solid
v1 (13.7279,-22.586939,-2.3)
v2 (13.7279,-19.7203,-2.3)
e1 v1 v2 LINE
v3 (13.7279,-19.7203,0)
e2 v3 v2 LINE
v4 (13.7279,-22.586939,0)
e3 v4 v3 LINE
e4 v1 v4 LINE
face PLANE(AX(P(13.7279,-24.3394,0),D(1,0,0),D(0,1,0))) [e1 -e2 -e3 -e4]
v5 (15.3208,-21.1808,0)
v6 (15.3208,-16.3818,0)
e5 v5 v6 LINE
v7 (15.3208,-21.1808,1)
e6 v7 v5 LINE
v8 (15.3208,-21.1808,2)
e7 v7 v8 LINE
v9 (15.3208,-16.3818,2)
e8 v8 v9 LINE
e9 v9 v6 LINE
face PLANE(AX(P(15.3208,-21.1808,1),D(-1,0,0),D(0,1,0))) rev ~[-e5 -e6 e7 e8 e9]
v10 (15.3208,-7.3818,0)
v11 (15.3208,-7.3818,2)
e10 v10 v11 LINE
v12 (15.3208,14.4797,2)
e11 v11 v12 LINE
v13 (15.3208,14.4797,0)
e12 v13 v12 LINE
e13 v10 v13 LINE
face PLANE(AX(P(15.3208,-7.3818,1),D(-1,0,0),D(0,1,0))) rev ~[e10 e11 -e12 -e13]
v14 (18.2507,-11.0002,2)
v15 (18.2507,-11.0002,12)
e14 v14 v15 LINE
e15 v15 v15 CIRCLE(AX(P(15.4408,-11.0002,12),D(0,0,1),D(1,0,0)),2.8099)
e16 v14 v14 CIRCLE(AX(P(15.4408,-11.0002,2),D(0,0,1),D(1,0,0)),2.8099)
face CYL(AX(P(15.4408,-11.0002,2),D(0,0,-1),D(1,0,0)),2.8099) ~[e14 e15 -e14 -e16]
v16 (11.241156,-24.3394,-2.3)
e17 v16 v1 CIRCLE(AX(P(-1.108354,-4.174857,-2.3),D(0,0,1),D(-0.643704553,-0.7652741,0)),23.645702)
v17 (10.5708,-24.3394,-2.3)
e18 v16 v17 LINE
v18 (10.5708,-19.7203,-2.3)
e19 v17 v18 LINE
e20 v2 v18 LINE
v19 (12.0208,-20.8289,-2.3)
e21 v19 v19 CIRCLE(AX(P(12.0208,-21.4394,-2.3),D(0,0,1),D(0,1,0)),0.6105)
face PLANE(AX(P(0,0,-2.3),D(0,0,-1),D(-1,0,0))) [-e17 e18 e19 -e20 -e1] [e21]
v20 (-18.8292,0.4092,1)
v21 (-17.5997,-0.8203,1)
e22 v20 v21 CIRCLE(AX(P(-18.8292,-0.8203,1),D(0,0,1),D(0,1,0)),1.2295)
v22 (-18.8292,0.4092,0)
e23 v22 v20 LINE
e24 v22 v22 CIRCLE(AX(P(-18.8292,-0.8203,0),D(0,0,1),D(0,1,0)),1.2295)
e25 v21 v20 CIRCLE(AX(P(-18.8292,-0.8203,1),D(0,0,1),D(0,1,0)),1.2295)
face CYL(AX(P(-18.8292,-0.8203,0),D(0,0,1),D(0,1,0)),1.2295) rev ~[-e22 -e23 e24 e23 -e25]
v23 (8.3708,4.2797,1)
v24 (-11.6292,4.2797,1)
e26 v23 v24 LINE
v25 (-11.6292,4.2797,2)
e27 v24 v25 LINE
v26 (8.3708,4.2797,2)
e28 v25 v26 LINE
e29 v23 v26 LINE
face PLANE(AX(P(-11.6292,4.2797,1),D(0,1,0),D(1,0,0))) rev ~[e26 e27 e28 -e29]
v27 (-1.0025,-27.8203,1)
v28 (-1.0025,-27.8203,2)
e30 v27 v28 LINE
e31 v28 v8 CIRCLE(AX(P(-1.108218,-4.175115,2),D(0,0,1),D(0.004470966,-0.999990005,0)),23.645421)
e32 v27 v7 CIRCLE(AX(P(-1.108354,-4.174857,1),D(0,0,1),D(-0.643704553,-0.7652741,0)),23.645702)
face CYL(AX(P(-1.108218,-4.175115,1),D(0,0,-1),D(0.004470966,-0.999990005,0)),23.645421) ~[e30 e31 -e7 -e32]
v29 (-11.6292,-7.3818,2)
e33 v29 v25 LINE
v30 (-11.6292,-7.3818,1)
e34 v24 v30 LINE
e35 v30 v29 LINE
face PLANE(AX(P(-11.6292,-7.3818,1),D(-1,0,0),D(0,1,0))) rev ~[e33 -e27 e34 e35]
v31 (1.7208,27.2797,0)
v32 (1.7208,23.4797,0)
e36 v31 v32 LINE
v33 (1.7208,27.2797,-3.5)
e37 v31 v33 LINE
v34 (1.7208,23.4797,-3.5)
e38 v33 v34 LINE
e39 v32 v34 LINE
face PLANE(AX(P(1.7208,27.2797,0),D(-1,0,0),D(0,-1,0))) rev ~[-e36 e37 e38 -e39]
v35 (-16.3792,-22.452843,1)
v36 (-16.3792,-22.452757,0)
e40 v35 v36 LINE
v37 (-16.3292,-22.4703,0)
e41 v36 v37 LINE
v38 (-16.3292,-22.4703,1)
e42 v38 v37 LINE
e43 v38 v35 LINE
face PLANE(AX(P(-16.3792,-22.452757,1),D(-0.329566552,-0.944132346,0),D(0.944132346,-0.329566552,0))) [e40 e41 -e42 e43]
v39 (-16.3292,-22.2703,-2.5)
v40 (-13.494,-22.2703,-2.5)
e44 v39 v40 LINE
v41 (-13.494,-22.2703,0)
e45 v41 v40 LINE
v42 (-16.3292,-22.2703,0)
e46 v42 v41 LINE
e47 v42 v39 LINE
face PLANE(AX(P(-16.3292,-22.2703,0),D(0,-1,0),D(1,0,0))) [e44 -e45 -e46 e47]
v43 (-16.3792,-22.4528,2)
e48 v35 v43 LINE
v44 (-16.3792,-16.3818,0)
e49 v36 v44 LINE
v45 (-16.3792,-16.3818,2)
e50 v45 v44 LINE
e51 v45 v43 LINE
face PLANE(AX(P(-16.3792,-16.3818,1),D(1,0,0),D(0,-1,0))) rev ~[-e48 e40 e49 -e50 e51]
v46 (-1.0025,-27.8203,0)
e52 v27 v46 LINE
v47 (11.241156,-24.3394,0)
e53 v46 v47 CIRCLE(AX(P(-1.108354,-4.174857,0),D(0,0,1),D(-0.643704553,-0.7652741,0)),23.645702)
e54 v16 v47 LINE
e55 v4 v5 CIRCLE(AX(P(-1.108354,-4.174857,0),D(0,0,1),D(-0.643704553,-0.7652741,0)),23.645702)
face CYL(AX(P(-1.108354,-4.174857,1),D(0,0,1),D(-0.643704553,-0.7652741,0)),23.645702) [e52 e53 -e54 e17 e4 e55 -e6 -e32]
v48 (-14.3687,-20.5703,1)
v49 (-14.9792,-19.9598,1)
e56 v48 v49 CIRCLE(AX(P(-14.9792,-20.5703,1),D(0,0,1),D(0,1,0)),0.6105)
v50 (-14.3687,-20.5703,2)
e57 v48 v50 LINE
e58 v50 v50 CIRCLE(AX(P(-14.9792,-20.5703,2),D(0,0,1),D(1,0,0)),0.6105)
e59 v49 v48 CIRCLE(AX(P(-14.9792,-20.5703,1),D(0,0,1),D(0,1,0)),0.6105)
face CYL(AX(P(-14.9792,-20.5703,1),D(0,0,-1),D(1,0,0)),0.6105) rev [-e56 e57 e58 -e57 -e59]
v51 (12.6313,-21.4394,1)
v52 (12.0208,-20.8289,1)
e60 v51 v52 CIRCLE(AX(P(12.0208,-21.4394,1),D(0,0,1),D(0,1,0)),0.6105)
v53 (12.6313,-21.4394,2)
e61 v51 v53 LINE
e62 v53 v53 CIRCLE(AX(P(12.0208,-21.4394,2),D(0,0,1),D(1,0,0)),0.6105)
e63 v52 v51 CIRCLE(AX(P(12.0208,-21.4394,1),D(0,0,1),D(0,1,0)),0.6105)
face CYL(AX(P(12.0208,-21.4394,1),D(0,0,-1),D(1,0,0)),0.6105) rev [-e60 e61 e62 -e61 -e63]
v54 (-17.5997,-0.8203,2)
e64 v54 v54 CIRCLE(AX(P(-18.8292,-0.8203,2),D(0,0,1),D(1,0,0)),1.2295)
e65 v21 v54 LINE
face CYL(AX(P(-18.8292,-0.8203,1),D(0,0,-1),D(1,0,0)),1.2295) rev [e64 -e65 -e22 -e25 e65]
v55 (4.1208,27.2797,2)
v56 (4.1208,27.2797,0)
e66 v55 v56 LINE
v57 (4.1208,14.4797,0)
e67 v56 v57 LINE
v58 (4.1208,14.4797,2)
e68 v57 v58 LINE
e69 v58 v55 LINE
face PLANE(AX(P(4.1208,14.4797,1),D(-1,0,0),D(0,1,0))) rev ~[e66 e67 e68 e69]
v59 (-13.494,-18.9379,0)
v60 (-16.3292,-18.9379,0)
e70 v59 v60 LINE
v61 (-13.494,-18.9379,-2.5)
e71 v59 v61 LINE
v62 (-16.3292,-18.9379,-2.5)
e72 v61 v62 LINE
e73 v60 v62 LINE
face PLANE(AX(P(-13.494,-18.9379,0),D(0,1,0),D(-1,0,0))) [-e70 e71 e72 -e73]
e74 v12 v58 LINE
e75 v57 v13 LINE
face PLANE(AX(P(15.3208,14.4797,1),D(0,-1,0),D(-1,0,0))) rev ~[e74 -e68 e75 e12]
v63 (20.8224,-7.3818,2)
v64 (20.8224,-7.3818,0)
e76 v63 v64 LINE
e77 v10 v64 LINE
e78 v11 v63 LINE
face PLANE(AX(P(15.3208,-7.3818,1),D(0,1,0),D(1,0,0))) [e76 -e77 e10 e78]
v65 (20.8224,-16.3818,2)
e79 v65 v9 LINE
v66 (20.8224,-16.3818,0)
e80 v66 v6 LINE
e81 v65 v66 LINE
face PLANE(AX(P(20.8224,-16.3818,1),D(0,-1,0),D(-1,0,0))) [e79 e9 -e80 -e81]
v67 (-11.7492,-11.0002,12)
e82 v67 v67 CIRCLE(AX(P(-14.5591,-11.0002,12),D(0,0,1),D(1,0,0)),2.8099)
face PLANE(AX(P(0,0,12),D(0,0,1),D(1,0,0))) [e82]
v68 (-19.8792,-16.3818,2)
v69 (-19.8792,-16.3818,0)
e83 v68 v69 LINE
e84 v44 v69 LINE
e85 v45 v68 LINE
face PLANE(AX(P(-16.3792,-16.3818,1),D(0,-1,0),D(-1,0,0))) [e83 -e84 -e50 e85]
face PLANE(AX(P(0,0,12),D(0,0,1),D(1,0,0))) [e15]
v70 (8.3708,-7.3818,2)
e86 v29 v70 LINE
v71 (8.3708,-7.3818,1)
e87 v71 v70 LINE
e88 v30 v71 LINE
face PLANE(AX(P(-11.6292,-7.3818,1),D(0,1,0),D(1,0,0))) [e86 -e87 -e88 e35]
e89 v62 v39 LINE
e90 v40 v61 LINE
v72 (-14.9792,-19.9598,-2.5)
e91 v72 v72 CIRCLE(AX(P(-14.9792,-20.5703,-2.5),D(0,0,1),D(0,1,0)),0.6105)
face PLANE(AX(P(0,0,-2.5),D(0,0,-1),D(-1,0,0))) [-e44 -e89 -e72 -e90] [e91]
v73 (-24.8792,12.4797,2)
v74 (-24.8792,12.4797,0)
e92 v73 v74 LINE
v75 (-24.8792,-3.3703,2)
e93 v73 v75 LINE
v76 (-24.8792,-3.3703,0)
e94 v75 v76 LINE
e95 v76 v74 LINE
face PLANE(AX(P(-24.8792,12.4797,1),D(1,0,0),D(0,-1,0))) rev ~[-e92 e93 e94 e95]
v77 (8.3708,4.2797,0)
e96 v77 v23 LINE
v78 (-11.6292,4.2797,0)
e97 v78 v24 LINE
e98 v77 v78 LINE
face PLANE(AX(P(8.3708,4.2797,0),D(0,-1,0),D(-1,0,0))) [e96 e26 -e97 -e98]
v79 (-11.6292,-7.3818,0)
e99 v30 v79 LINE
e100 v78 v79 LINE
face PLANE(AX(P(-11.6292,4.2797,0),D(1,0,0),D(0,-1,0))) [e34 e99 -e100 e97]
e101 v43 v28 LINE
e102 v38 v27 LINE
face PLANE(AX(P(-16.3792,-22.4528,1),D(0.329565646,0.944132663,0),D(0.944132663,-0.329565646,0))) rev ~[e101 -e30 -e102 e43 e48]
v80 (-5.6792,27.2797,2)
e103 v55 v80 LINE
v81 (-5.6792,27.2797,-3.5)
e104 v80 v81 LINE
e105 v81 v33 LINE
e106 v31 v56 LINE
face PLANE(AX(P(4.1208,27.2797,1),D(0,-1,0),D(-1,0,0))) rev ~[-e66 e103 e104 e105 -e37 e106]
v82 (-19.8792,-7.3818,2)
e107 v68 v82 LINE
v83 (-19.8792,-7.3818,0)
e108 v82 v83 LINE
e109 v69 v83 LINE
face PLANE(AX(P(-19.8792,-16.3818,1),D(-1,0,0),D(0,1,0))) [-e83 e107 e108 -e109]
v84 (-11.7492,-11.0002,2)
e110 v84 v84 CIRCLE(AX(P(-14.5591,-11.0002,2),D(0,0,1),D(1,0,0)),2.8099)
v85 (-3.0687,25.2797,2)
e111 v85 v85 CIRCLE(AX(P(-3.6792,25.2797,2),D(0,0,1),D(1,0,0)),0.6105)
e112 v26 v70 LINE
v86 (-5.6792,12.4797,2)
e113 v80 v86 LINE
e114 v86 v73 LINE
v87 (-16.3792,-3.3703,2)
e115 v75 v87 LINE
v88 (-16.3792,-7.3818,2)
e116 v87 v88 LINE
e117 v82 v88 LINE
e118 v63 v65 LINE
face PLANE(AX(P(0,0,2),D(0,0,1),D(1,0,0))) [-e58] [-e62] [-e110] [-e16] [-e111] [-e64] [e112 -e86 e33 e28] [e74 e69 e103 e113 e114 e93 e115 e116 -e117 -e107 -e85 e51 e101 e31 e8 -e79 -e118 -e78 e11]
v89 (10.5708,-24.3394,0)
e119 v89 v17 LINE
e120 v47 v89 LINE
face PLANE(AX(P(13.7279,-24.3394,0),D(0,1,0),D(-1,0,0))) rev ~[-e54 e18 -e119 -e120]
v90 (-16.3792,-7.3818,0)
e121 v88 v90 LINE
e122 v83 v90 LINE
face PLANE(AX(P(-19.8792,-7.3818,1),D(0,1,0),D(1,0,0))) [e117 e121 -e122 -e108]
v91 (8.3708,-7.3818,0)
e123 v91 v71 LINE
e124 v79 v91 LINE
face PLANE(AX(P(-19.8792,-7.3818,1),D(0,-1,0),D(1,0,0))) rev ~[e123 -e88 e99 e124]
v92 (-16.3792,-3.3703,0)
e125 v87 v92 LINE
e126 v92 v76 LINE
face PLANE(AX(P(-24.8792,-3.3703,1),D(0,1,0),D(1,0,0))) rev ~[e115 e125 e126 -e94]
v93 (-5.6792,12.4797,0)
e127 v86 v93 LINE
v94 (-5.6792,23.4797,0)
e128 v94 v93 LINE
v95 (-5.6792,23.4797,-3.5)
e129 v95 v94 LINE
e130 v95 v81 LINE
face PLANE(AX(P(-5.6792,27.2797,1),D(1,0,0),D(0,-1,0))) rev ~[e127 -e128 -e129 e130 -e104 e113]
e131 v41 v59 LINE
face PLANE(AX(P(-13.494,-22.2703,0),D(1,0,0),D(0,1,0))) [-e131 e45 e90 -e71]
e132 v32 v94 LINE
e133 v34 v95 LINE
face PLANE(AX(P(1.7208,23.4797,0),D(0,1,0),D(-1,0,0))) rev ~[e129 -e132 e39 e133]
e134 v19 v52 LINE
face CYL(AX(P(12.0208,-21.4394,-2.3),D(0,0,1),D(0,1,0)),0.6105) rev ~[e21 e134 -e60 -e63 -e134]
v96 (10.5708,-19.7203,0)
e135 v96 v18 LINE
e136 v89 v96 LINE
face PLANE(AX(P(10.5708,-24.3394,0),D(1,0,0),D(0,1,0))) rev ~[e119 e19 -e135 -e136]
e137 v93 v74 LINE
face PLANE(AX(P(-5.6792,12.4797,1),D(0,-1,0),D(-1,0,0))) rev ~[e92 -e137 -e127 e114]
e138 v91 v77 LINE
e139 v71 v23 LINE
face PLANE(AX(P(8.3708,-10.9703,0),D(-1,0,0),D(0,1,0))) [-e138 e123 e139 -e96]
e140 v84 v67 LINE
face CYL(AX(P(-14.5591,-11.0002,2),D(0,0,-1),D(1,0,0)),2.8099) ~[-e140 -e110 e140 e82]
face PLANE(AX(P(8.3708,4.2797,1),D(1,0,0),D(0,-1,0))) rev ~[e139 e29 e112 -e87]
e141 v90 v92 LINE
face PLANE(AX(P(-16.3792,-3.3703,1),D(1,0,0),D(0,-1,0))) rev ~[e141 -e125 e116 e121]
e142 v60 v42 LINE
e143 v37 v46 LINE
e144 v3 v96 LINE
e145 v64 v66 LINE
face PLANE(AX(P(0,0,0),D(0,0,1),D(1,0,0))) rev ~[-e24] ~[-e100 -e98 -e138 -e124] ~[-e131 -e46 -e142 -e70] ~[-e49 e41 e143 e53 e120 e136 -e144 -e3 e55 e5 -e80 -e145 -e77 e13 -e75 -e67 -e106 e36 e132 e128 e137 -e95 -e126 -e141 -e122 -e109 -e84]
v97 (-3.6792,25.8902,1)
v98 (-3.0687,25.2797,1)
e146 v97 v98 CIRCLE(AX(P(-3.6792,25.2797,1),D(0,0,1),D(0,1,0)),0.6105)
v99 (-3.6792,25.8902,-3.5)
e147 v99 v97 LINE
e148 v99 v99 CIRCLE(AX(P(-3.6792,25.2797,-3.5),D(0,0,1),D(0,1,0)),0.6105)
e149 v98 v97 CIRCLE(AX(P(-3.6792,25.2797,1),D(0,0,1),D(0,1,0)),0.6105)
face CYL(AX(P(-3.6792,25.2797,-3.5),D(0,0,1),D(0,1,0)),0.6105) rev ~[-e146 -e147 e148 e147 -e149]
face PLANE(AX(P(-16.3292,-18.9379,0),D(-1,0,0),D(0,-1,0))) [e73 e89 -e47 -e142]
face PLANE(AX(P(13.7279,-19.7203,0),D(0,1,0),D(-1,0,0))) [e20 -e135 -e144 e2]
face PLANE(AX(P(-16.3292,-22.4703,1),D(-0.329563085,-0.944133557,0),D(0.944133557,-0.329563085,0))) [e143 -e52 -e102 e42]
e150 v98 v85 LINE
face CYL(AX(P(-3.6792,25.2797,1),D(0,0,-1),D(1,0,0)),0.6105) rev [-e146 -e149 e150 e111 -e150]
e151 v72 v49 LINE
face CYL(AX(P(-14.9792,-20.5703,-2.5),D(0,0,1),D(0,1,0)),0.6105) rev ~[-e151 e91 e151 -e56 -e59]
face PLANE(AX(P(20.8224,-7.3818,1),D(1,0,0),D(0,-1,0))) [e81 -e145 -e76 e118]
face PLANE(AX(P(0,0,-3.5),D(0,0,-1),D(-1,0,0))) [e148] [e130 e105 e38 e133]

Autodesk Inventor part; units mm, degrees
ref_plane "YZ Plane" through (0, 0, 0) normal (1, 0, 0) x (0, 1, 0)
ref_plane "XZ Plane" through (0, 0, 0) normal (0, 1, 0) x (-1, 0, 0)
ref_plane "XY Plane" through (0, 0, 0) normal (0, 0, 1) x (1, 0, 0)
sketch "Skizze1" plane through (0, 0, 0) normal (0, 0, 1) x (1, 0, 0)
  circle A0 centre (-18.8292, -0.8203) radius 1.45 construction
  line L0 (-24.8792, -2.7703) -> (-24.8792, 8.6797) construction
  arc A1 (-11.8792, -25.2203) -> (6.3208, -26.6782) centre (-1.0025, -3.77) ccw construction
  circle A2 centre (-14.9792, -20.5703) radius 0.9 construction
  circle A3 centre (12.0208, -21.4394) radius 0.9 construction
  circle A4 centre (-3.6792, 25.2797) radius 0.9 construction
  line L1 (-5.6792, 27.2797) -> (3.4208, 27.2797) construction
  line L2 (25.1208, 7.4797) -> (25.1208, -1.5203) construction
  line L3 (25.1208, -27.8203) -> (-24.8792, -27.8203)
  line L4 (-24.8792, -27.8203) -> (-24.8792, 27.2797)
  line L5 (-24.8792, 27.2797) -> (25.1208, 27.2797)
  line L6 (25.1208, 27.2797) -> (25.1208, -27.8203)
  line L7 (4.6208, 0.2797) -> (4.6208, -6.9703) construction
  line L8 (-4.8792, 0.2797) -> (4.6208, 0.2797) construction
  line L9 (-4.8792, -6.9703) -> (-4.8792, 0.2797) construction
  line L10 (4.6208, -6.9703) -> (-4.8792, -6.9703) construction
  line L11 (-2.2292, 2.2797) -> (1.9708, 2.2797) construction
  line L12 (6.3708, 2.2797) -> (1.9708, 2.2797) construction
  line L13 (6.3708, -8.9703) -> (6.3708, 2.2797) construction
  line L14 (1.9708, -8.9703) -> (6.3708, -8.9703) construction
  line L15 (1.9708, -8.9703) -> (-2.2292, -8.9703) construction
  line L16 (-6.6292, -8.9703) -> (-2.2292, -8.9703) construction
  line L17 (-6.6292, 2.2797) -> (-6.6292, -8.9703) construction
  line L18 (-2.2292, 2.2797) -> (-6.6292, 2.2797) construction
  line L19 (-11.6292, -10.9703) -> (8.3708, -10.9703)
  line L20 (8.3708, -10.9703) -> (8.3708, 4.2797)
  line L21 (8.3708, 4.2797) -> (-11.6292, 4.2797)
  line L22 (-11.6292, 4.2797) -> (-11.6292, -10.9703)
  point P0 (0, 0)
  dimension "d48" = 2
  dimension "d49" = 2
  dimension "d50" = 2
  dimension "d51" = 5
extrude "Extrusion1" add sketch "Skizze1" along normal blind 1
sketch "Skizze2" plane through (0, 0, 0) normal (0, 0, -1) x (-1, 0, 0)
  circle A0 centre (14.9792, -20.5703) radius 0.9 projected
  circle A1 centre (-12.0208, -21.4394) radius 0.9 construction
  circle A2 centre (3.6792, 25.2797) radius 0.9 construction
  circle A3 centre (14.9792, -20.5703) radius 0.9 projected
  circle A4 centre (9.7292, -19.9703) radius 0.75 projected
  line L0 (17.9792, -20.8203) -> (16.3292, -20.8203) construction
  line L1 (7.7292, -22.4703) -> (11.8792, -22.4703) construction
  line L2 (7.7292, -17.4703) -> (7.7292, -22.4703) construction
  line L3 (16.3292, -17.4703) -> (7.7292, -17.4703) construction
  line L4 (16.3292, -20.8203) -> (16.3292, -17.4703) construction
  line L5 (16.3292, -22.2703) -> (7.9292, -22.2703)
  line L6 (7.9292, -22.2703) -> (7.9292, -17.6703)
  line L7 (7.9292, -17.6703) -> (16.3292, -17.6703)
  line L8 (16.3292, -17.6703) -> (16.3292, -22.2703)
  line L9 (11.8792, -22.2703) -> (12.162, -22.2703) construction
  line L10 (16.3292, -17.6703) -> (12.3496, -17.6703)
  line L11 (12.3496, -17.6703) -> (12.3496, -22.2703)
  line L12 (12.3496, -22.2703) -> (16.3292, -22.2703)
  line L13 (16.3292, -22.2703) -> (16.3292, -17.6703)
  line L14 (16.3292, -22.2703) -> (13.494, -22.2703)
  line L15 (13.494, -22.2703) -> (13.494, -18.9379)
  line L16 (13.494, -18.9379) -> (16.3292, -18.9379)
  line L17 (16.3292, -18.9379) -> (16.3292, -22.2703)
  point P0 (0, 0)
  dimension "d3" = 0.2
  dimension "d4" = 0.2
  dimension "d9" = 0.2
extrude "Extrusion2" add sketch "Skizze2" along normal blind 2.5 contours A0 | L5 L15 L16 L8
sketch "Skizze3" plane through (0, 0, -2.5) normal (0, 0, -1) x (-1, 0, 0)
  circle A0 centre (14.9792, -20.5703) radius 0.9 construction
  point P0 (0, 0)
hole "Bohrung1" at (-14.9792, -20.5703, -2.5) direction (0, 0, 1) diameter 1.221 depth 6.1 tip angle 118 thread size "M1.6x0.35" class "6H" standard "ISO Metric profile"
sketch "Skizze4" plane through (0, 0, 0) normal (0, 0, -1) x (-1, 0, 0)
  circle A0 centre (18.8292, -0.8203) radius 1.45 construction
  point P0 (0, 0)
hole "Bohrung2" at (-18.8292, -0.8203, 0) direction (0, 0, 1) diameter 2.459 end through all thread size "M3x0.5" class "6H" standard "ISO Metric profile"
sketch "Skizze5" plane through (0, 0, 0) normal (0, 0, -1) x (-1, 0, 0)
  line L0 (-9.3708, -21.4703) -> (-9.3708, -17.9703) construction
  line L1 (-14.1208, -16.9703) -> (-14.1208, -22.4703) construction
  line L2 (-15.3208, -16.9703) -> (-10.3708, -16.9703) construction
  line L3 (-9.3708, -17.9703) -> (-10.3708, -16.9703) construction
  line L4 (-9.3708, -21.4703) -> (-9.3708, -17.9703) construction
  line L5 (-10.5708, -16.9703) -> (-15.3208, -16.9703)
  line L6 (-15.3208, -16.9703) -> (-15.3208, -24.3394)
  line L7 (-15.3208, -24.3394) -> (-10.5708, -24.3394)
  line L8 (-10.5708, -24.3394) -> (-10.5708, -16.9703)
  line L9 (-15.3208, -16.9703) -> (-15.3208, -1.5203) construction
  circle A0 centre (-12.0208, -21.4394) radius 0.9 construction
  line L10 (-10.5708, -24.3394) -> (-13.7279, -24.3394)
  line L11 (-13.7279, -24.3394) -> (-13.7279, -16.9703)
  line L12 (-13.7279, -16.9703) -> (-10.5708, -16.9703)
  line L13 (-10.5708, -16.9703) -> (-10.5708, -24.3394)
  line L14 (-10.5708, -24.3394) -> (-13.7279, -24.3394)
  line L15 (-13.7279, -24.3394) -> (-13.7279, -19.7203)
  line L16 (-13.7279, -19.7203) -> (-10.5708, -19.7203)
  line L17 (-10.5708, -19.7203) -> (-10.5708, -24.3394)
  point P0 (0, 0)
extrude "Extrusion3" add sketch "Skizze5" along normal blind 2.3 contours L8 L7 L11 L16
sketch "Skizze6" plane through (0, 0, -2.3) normal (0, 0, -1) x (-1, 0, 0)
  circle A0 centre (-12.0208, -21.4394) radius 0.9 construction
  point P0 (0, 0)
hole "Bohrung3" at (12.0208, -21.4394, -2.3) direction (0, 0, 1) diameter 1.221 depth 7.1 tip angle 118 thread size "M1.6x0.35" class "6H" standard "ISO Metric profile"
sketch "Skizze7" plane through (0, 0, 0) normal (0, 0, -1) x (-1, 0, 0)
  circle A0 centre (3.6792, 25.2797) radius 0.9 construction
  line L0 (-3.4208, 24.7797) -> (-3.4208, 27.2797) construction
  line L1 (-1.9208, 24.7797) -> (-3.4208, 24.7797) construction
  line L2 (-1.9208, 23.2797) -> (-1.9208, 24.7797) construction
  line L3 (5.6792, 23.2797) -> (-1.9208, 23.2797) construction
  line L4 (5.6792, 27.2797) -> (5.6792, 23.2797) construction
  line L5 (-3.4208, 27.2797) -> (5.6792, 27.2797) construction
  line L6 (6.6792, 27.2797) -> (-1.7208, 27.2797)
  line L7 (-1.7208, 27.2797) -> (-1.7208, 23.4797)
  line L8 (-1.7208, 23.4797) -> (6.6792, 23.4797)
  line L9 (6.6792, 23.4797) -> (6.6792, 27.2797)
  point P0 (0, 0)
  dimension "d35" = 0.2
  dimension "d36" = 0.2
  dimension "d38" = 3
extrude "Extrusion4" add sketch "Skizze7" along normal blind 3.5
sketch "Skizze8" plane through (0, 0, -3.5) normal (0, 0, -1) x (-1, 0, 0)
  circle A0 centre (3.6792, 25.2797) radius 0.9 construction
  point P0 (0, 0)
hole "Bohrung4" at (-3.6792, 25.2797, -3.5) direction (0, 0, 1) diameter 1.221 depth 7.1 tip angle 118 thread size "M1.6x0.35" class "6H" standard "ISO Metric profile"
sketch "Sketch9" plane through (0, 0, 1) normal (0, 0, 1) x (1, 0, 0)
  circle A0 centre (-18.8292, -0.8203) radius 1.45 construction
  line L0 (-22.6792, 10.4902) -> (-22.6792, -2.5703) construction
  line L1 (-22.6792, -2.5703) -> (-21.2792, -2.5703) construction
  line L2 (-21.2792, -2.5703) -> (-21.2792, 8.1297) construction
  arc A1 (-19.5792, 9.8297) -> (-21.2792, 8.1297) centre (-19.5792, 8.1297) ccw construction
  line L3 (-19.5792, 9.8297) -> (-13.5792, 9.8297) construction
  line L4 (-13.5792, 9.8297) -> (-13.5792, 11.4797) construction
  line L5 (-13.5792, 11.4797) -> (-22.1079, 11.4797) construction
  line L6 (-22.1079, 11.4797) -> (-22.6792, 10.4902) construction
  line L7 (-5.6792, 23.2797) -> (1.9208, 23.2797) construction
  line L8 (1.9208, 23.2797) -> (1.9208, 24.7797) construction
  line L9 (1.9208, 24.7797) -> (4.1208, 24.7797) construction
  line L10 (4.1208, 24.7797) -> (4.1208, 14.4797) construction
  line L11 (4.1208, 14.4797) -> (20.1208, 14.4797) construction
  line L12 (20.1208, 14.4797) -> (20.1208, 12.4797) construction
  line L13 (20.1208, 12.4797) -> (22.2341, 12.4797) construction
  line L14 (22.2341, 12.4797) -> (25.1208, 7.4797) construction
  line L15 (25.1208, 7.4797) -> (25.1208, -1.5203) construction
  line L16 (25.1208, -1.5203) -> (15.8208, -1.5203) construction
  line L17 (15.8208, -1.5203) -> (15.8208, -0.8203) construction
  line L18 (15.8208, -0.8203) -> (11.8208, -0.8203) construction
  line L19 (11.8208, -0.8203) -> (11.8208, -19.3203) construction
  line L20 (11.8208, -19.3203) -> (10.8208, -19.3203) construction
  line L21 (10.8208, -19.3203) -> (10.8208, 0.6797) construction
  line L22 (10.8208, 0.6797) -> (11.8208, 0.6797) construction
  line L23 (11.8208, 0.6797) -> (11.8208, 10.4297) construction
  line L24 (11.8208, 10.4297) -> (5.3208, 10.4297) construction
  line L25 (5.3208, 10.4297) -> (5.3208, 9.1297) construction
  line L26 (5.3208, 9.1297) -> (-19.5792, 9.1297) construction
  arc A2 (-19.5792, 9.1297) -> (-20.5792, 8.1297) centre (-19.5792, 8.1297) ccw construction
  line L27 (-20.5792, 8.1297) -> (-20.5792, 2.1297) construction
  arc A3 (-20.5792, 2.1297) -> (-20.0792, 1.6297) centre (-20.0792, 2.1297) ccw construction
  line L28 (-20.0792, 1.6297) -> (-18.8292, 1.6297) construction
  arc A4 (-16.3792, -0.8203) -> (-18.8292, 1.6297) centre (-18.8292, -0.8203) ccw construction
  line L29 (-16.3792, -0.8203) -> (-16.3792, -1.3703) construction
  arc A5 (-18.3792, -3.3703) -> (-16.3792, -1.3703) centre (-18.3792, -1.3703) ccw construction
  line L30 (-18.3792, -3.3703) -> (-23.4792, -3.3703) construction
  line L31 (-23.4792, -3.3703) -> (-23.4792, 11.1046) construction
  line L32 (-23.4792, 11.1046) -> (-22.6852, 12.4797) construction
  line L33 (-22.6852, 12.4797) -> (-13.6792, 12.4797) construction
  arc A6 (-13.6792, 12.4797) -> (-5.6792, 20.4797) centre (-13.6792, 20.4797) ccw construction
  line L34 (-5.6792, 20.4797) -> (-5.6792, 23.2797) construction
  line L35 (-7.8792, -20.1624) -> (-7.8792, -26.8162) construction
  arc A7 (-9.8792, -26.1222) -> (-7.8792, -26.8162) centre (-1.0025, -3.77) ccw construction
  line L36 (-9.8792, -26.1222) -> (-9.8792, -22.1222) construction
  line L37 (-9.8792, -22.1222) -> (-13.6811, -18.3203) construction
  line L38 (-13.6811, -18.3203) -> (-16.6811, -18.3203) construction
  line L39 (-16.6811, -18.3203) -> (-16.6811, -20.8203) construction
  line L40 (-24.8792, -20.8203) -> (-16.6811, -20.8203) construction
  line L41 (-24.8792, -3.3703) -> (-24.8792, -20.8203) construction
  line L42 (-18.3792, -3.3703) -> (-24.8792, -3.3703) construction
  arc A8 (-18.3792, -3.3703) -> (-16.3792, -1.3703) centre (-18.3792, -1.3703) ccw construction
  line L43 (-16.3792, -15.8703) -> (-16.3792, -1.3703) construction
  line L44 (-12.1713, -15.8703) -> (-16.3792, -15.8703) construction
  line L45 (-12.1713, -15.8703) -> (-7.8792, -20.1624) construction
  line L46 (9.3208, 7.5297) -> (11.8208, 7.5297) construction
  line L47 (11.8208, 0.6797) -> (11.8208, 7.5297) construction
  line L48 (10.8208, 0.6797) -> (11.8208, 0.6797) construction
  line L49 (10.8208, -19.3203) -> (10.8208, 0.6797) construction
  line L50 (11.8208, -19.3203) -> (10.8208, -19.3203) construction
  line L51 (11.8208, -0.8203) -> (11.8208, -19.3203) construction
  line L52 (15.8208, -0.8203) -> (11.8208, -0.8203) construction
  line L53 (15.8208, -1.5203) -> (15.8208, -0.8203) construction
  line L54 (15.3208, -1.5203) -> (15.8208, -1.5203) construction
  line L55 (15.3208, -16.9703) -> (15.3208, -1.5203) construction
  line L56 (14.1208, -16.9703) -> (15.3208, -16.9703) construction
  line L57 (14.1208, -20.2394) -> (14.1208, -16.9703) construction
  line L58 (14.1208, -20.2394) -> (13.6208, -20.2394) construction
  arc A9 (13.6208, -20.2394) -> (10.0208, -21.4394) centre (12.0208, -21.4394) ccw construction
  line L59 (10.0208, -21.4394) -> (10.0208, -25.1453) construction
  arc A10 (-1.5792, -27.8134) -> (10.0208, -25.1453) centre (-1.0025, -3.77) ccw construction
  line L60 (-1.5792, -27.8134) -> (-1.5792, -26.4134) construction
  line L61 (-1.5792, -26.4134) -> (0.4208, -26.4134) construction
  line L62 (0.4208, -26.4134) -> (0.9208, -25.9134) construction
  line L63 (0.9208, -25.9134) -> (2.9208, -25.9134) construction
  line L64 (2.9208, -25.9134) -> (3.4208, -25.4134) construction
  line L65 (3.4208, -25.4134) -> (5.4208, -25.4134) construction
  line L66 (5.4208, -25.4134) -> (9.0208, -21.8134) construction
  line L67 (9.0208, -21.8134) -> (9.0208, -19.0634) construction
  arc A11 (9.0208, -19.0634) -> (6.6502, -18.7996) centre (7.8502, -18.7996) ccw construction
  line L68 (6.6502, -18.7996) -> (6.6502, -17.7996) construction
  line L69 (6.6502, -17.7996) -> (2.1208, -13.2703) construction
  line L70 (2.1208, -13.2703) -> (-13.8792, -13.2703) construction
  line L71 (-13.8792, 0.1297) -> (-13.8792, -13.2703) construction
  arc A12 (-13.8792, 0.1297) -> (-15.8792, 2.1297) centre (-15.8792, 0.1297) ccw construction
  line L72 (-16.9792, 2.1297) -> (-15.8792, 2.1297) construction
  arc A13 (-17.9792, 3.1297) -> (-16.9792, 2.1297) centre (-16.9792, 3.1297) ccw construction
  line L73 (-17.9792, 4.5047) -> (-17.9792, 3.1297) construction
  arc A14 (-15.9792, 6.5047) -> (-17.9792, 4.5047) centre (-15.9792, 4.5047) ccw construction
  line L74 (-15.9792, 6.5047) -> (7.845, 6.5047) construction
  arc A15 (7.845, 6.5047) -> (9.3208, 7.5297) centre (9.3208, 5.9547) ccw construction
  line L75 (-2.2292, 2.2797) -> (-6.6292, 2.2797) construction
  line L76 (-6.6292, 2.2797) -> (-6.6292, -8.9703) construction
  line L77 (-6.6292, -8.9703) -> (-2.2292, -8.9703) construction
  line L78 (-2.2292, -8.9703) -> (-2.2292, -9.9953) construction
  line L79 (-2.2292, -9.9953) -> (1.9708, -9.9953) construction
  line L80 (1.9708, -9.9953) -> (1.9708, -8.9703) construction
  line L81 (1.9708, -8.9703) -> (6.3708, -8.9703) construction
  line L82 (6.3708, -8.9703) -> (6.3708, 2.2797) construction
  line L83 (6.3708, 2.2797) -> (1.9708, 2.2797) construction
  line L84 (1.9708, 2.2797) -> (1.9708, 3.3047) construction
  line L85 (1.9708, 3.3047) -> (-2.2292, 3.3047) construction
  line L86 (-2.2292, 3.3047) -> (-2.2292, 2.2797) construction
  circle A16 centre (-12.8292, 4.1297) radius 1.575 construction
  circle A17 centre (7.8502, -14.7996) radius 1.575 construction
  circle A18 centre (-15.8292, 4.1297) radius 0.75 construction
  line L87 (16.6208, -9.5203) -> (16.6208, -1.5203) construction
  line L88 (24.6208, -9.5203) -> (24.6208, -1.5203) construction
  circle A19 centre (-3.6792, 25.2797) radius 0.6105 projected
  circle A20 centre (12.0208, -21.4394) radius 0.6105 projected
  circle A21 centre (-18.8292, -0.8203) radius 1.2295 projected
  circle A22 centre (-14.9792, -20.5703) radius 0.6105 projected
  line L89 (-11.6292, -10.9703) -> (-11.6292, 4.2797) projected
  line L90 (-11.6292, 4.2797) -> (8.3708, 4.2797) projected
  line L91 (8.3708, 4.2797) -> (8.3708, -10.9703) projected
  line L92 (8.3708, -10.9703) -> (-11.6292, -10.9703) projected
  line L93 (-24.8792, -27.8203) -> (25.1208, -27.8203) projected
  line L94 (25.1208, -27.8203) -> (25.1208, 27.2797) projected
  line L95 (25.1208, 27.2797) -> (-24.8792, 27.2797) projected
  line L96 (-24.8792, 27.2797) -> (-24.8792, -27.8203) projected
  line L97 (25.1208, 27.2797) -> (25.1208, -27.8203) projected
  line L98 (25.1208, 27.2797) -> (4.1208, 27.2797)
  line L99 (4.1208, 27.2797) -> (4.1208, 14.4797)
  line L100 (4.1208, 14.4797) -> (25.1208, 14.4797)
  line L101 (25.1208, 14.4797) -> (25.1208, 27.2797)
  line L102 (-24.8792, 27.2797) -> (-6.6792, 27.2797) projected
  line L103 (-24.8792, 27.2797) -> (-5.6792, 27.2797)
  line L104 (-5.6792, 27.2797) -> (-5.6792, 12.4797)
  line L105 (-5.6792, 12.4797) -> (-24.8792, 12.4797)
  line L106 (-24.8792, 12.4797) -> (-24.8792, 27.2797)
  line L107 (25.1208, -27.8203) -> (15.3208, -27.8203)
  line L108 (15.3208, -27.8203) -> (15.3208, 14.4797)
  line L109 (15.3208, 14.4797) -> (25.1208, 14.4797)
  line L110 (25.1208, 14.4797) -> (25.1208, -27.8203)
  line L111 (-24.8792, -27.8203) -> (-16.3792, -27.8203)
  line L112 (-16.3792, -27.8203) -> (-16.3792, -3.3703)
  line L113 (-16.3792, -3.3703) -> (-24.8792, -3.3703)
  line L114 (-24.8792, -3.3703) -> (-24.8792, -27.8203)
  line L115 (-16.3292, -22.2703) -> (-7.9292, -22.2703) projected
  line L116 (15.3208, -16.9703) -> (15.3208, -24.3394) projected
  arc A23 (-16.3292, -22.2703) -> (15.3208, -21.1808) centre (-1.1083, -4.1747) ccw
  line L117 (-16.3292, -22.2703) -> (-16.3792, -22.2703)
  line L118 (25.1208, -27.8203) -> (-24.8792, -27.8203) projected
  line L119 (-7.9292, -22.2703) -> (-16.3292, -22.2703) projected
  line L120 (-16.3292, -22.2703) -> (-1.0025, -27.8203)
  point P0 (0, 0)
  point P1 (-21.6292, -3.3703)
extrude "Extrusion5" cut sketch "Sketch9" against normal blind 10 contours L96 L113 L112 L93 | A23 L108 L93 | L96 L95 L104 L105 | L108 L100 L94 L93 | L100 L99 L95 L94
sketch "Sketch11" plane through (0, 0, 1) normal (0, 0, 1) x (1, 0, 0)
  arc A0 (-1.0025, -27.8203) -> (15.3208, -21.1808) centre (-1.1083, -4.1747) ccw projected
  point P0 (0, 0)
sketch "Sketch12" plane through (0, 0, 1) normal (0, 0, 1) x (1, 0, 0)
  line L0 (-11.6292, -10.9703) -> (-11.6292, 4.2797) projected
  line L1 (-11.6292, 4.2797) -> (8.3708, 4.2797) projected
  line L2 (8.3708, 4.2797) -> (8.3708, -10.9703) projected
  line L3 (8.3708, -10.9703) -> (-11.6292, -10.9703) projected
  circle A0 centre (-14.9792, -20.5703) radius 0.6105 projected
  circle A1 centre (-18.8292, -0.8203) radius 1.2295 projected
  circle A2 centre (12.0208, -21.4394) radius 0.6105 projected
  circle A3 centre (-3.6792, 25.2797) radius 0.6105 projected
  arc A4 (-1.0025, -27.8203) -> (15.3208, -21.1808) centre (-1.1083, -4.1747) ccw projected
  line L4 (15.3208, -21.1808) -> (15.3208, 14.4797) projected
  line L5 (15.3208, 14.4797) -> (4.1208, 14.4797) projected
  line L6 (4.1208, 14.4797) -> (4.1208, 27.2797) projected
  line L7 (4.1208, 27.2797) -> (-5.6792, 27.2797) projected
  line L8 (-5.6792, 27.2797) -> (-5.6792, 12.4797) projected
  line L9 (-5.6792, 12.4797) -> (-24.8792, 12.4797) projected
  line L10 (-24.8792, 12.4797) -> (-24.8792, -3.3703) projected
  line L11 (-24.8792, -3.3703) -> (-16.3792, -3.3703) projected
  line L12 (-16.3792, -3.3703) -> (-16.3792, -27.8203) projected
  line L13 (-16.3792, -27.8203) -> (-1.0025, -27.8203) projected
  line L14 (-16.3292, -22.4703) -> (-17.9792, -20.8203) projected
  line L15 (-16.3792, -27.8203) -> (-1.0025, -27.8203) projected
  arc A5 (-1.0025, -27.8203) -> (15.3208, -21.1808) centre (-1.1083, -4.1747) ccw projected
  line L16 (-16.3292, -22.4703) -> (-1.0025, -27.8203)
  line L17 (-17.5522, -22.0433) -> (2.1832, -28.9323)
  line L18 (2.1832, -28.9323) -> (-1.056, -38.212)
  line L19 (-1.056, -38.212) -> (-20.7914, -31.323)
  line L20 (-20.7914, -31.323) -> (-17.5522, -22.0433)
  point P0 (0, 0)
extrude "Extrusion6" cut sketch "Sketch12" against normal blind 10 contours L17 L18 L19 L20 L12 L13 | L13 L12 L17 L16
sketch "Sketch13" plane through (0, 0, 1) normal (0, 0, 1) x (1, 0, 0)
  line L0 (-16.3792, -22.4528) -> (-1.0025, -27.8203) construction
  arc A0 (-1.0025, -27.8203) -> (15.3208, -21.1808) centre (-1.1083, -4.1747) ccw construction
  line L1 (15.3208, -21.1808) -> (15.3208, 14.4797) construction
  line L2 (15.3208, 14.4797) -> (4.1208, 14.4797) construction
  line L3 (4.1208, 14.4797) -> (4.1208, 27.2797) construction
  line L4 (4.1208, 27.2797) -> (-5.6792, 27.2797) construction
  line L5 (-5.6792, 27.2797) -> (-5.6792, 12.4797) construction
  line L6 (-5.6792, 12.4797) -> (-24.8792, 12.4797) construction
  line L7 (-24.8792, 12.4797) -> (-24.8792, -3.3703) construction
  line L8 (-24.8792, -3.3703) -> (-16.3792, -3.3703) construction
  line L9 (-16.3792, -3.3703) -> (-16.3792, -22.4528) construction
  line L10 (-11.6292, -10.9703) -> (-11.6292, 4.2797) construction
  line L11 (-11.6292, 4.2797) -> (8.3708, 4.2797) construction
  line L12 (8.3708, 4.2797) -> (8.3708, -10.9703) construction
  line L13 (8.3708, -10.9703) -> (-11.6292, -10.9703) construction
  circle A1 centre (-14.9792, -20.5703) radius 0.6105 construction
  circle A2 centre (-18.8292, -0.8203) radius 1.2295 construction
  circle A3 centre (12.0208, -21.4394) radius 0.6105 construction
  circle A4 centre (-3.6792, 25.2797) radius 0.6105 construction
  line L14 (20.7608, -14.0343) -> (18.4748, -16.3203) construction
  line L15 (-17.5932, -16.3203) -> (-19.8792, -14.0343) construction
  line L16 (20.8224, -16.3818) -> (-19.8792, -16.3818)
  line L17 (-19.8792, -16.3818) -> (-19.8792, -7.3818)
  line L18 (-19.8792, -7.3818) -> (20.8224, -7.3818)
  line L19 (20.8224, -7.3818) -> (20.8224, -16.3818)
  point P0 (0, 0)
  dimension "d56" = 9
extrude "Extrusion7" add sketch "Sketch13" against normal up to surface (1 mm away)
sketch "Sketch14" plane through (0, 0, 1) normal (0, 0, 1) x (1, 0, 0)
  line L0 (15.3208, -7.3818) -> (15.3208, 14.4797) projected
  line L1 (15.3208, 14.4797) -> (4.1208, 14.4797) projected
  line L2 (4.1208, 14.4797) -> (4.1208, 27.2797) projected
  line L3 (4.1208, 27.2797) -> (-5.6792, 27.2797) projected
  line L4 (-5.6792, 27.2797) -> (-5.6792, 12.4797) projected
  line L5 (-5.6792, 12.4797) -> (-24.8792, 12.4797) projected
  line L6 (-24.8792, 12.4797) -> (-24.8792, -3.3703) projected
  line L7 (-24.8792, -3.3703) -> (-16.3792, -3.3703) projected
  line L8 (-16.3792, -3.3703) -> (-16.3792, -7.3818) projected
  line L9 (-19.8792, -7.3818) -> (-16.3792, -7.3818) projected
  line L10 (-19.8792, -16.3818) -> (-19.8792, -7.3818) projected
  line L11 (-16.3792, -16.3818) -> (-19.8792, -16.3818) projected
  line L12 (-16.3792, -16.3818) -> (-16.3792, -22.4528) projected
  line L13 (-16.3792, -22.4528) -> (-1.0025, -27.8203) projected
  arc A0 (-1.0025, -27.8203) -> (15.3208, -21.1808) centre (-1.1083, -4.1747) ccw projected
  line L14 (15.3208, -21.1808) -> (15.3208, -16.3818) projected
  line L15 (20.8224, -16.3818) -> (15.3208, -16.3818) projected
  line L16 (20.8224, -7.3818) -> (20.8224, -16.3818) projected
  line L17 (15.3208, -7.3818) -> (20.8224, -7.3818) projected
  circle A1 centre (-3.6792, 25.2797) radius 0.6105 projected
  circle A2 centre (-18.8292, -0.8203) radius 1.2295 projected
  line L18 (-11.6292, -7.3818) -> (8.3708, -7.3818) projected
  line L19 (-11.6292, -7.3818) -> (-11.6292, 4.2797) projected
  line L20 (-11.6292, 4.2797) -> (8.3708, 4.2797) projected
  line L21 (8.3708, 4.2797) -> (8.3708, -7.3818) projected
  circle A3 centre (-14.9792, -20.5703) radius 0.6105 projected
  circle A4 centre (12.0208, -21.4394) radius 0.6105 projected
  point P0 (0, 0)
extrude "Extrusion8" add sketch "Sketch14" along normal blind 1
sketch "Sketch15" plane through (0, 0, 2) normal (0, 0, 1) x (1, 0, 0)
  circle A0 centre (15.4408, -11.0002) radius 3.0099 construction
  circle A1 centre (-14.5591, -11.0002) radius 3.0099 construction
  circle A2 centre (15.4408, -11.0002) radius 2.8099
  circle A3 centre (-14.5591, -11.0002) radius 2.8099
  point P0 (0, 0)
  dimension "d61" = 0.2
  dimension "d62" = 0.2
extrude "Extrusion9" add sketch "Sketch15" along normal blind 10
properties part number "00_Adapter_XY_Translator_Thorlabs"
